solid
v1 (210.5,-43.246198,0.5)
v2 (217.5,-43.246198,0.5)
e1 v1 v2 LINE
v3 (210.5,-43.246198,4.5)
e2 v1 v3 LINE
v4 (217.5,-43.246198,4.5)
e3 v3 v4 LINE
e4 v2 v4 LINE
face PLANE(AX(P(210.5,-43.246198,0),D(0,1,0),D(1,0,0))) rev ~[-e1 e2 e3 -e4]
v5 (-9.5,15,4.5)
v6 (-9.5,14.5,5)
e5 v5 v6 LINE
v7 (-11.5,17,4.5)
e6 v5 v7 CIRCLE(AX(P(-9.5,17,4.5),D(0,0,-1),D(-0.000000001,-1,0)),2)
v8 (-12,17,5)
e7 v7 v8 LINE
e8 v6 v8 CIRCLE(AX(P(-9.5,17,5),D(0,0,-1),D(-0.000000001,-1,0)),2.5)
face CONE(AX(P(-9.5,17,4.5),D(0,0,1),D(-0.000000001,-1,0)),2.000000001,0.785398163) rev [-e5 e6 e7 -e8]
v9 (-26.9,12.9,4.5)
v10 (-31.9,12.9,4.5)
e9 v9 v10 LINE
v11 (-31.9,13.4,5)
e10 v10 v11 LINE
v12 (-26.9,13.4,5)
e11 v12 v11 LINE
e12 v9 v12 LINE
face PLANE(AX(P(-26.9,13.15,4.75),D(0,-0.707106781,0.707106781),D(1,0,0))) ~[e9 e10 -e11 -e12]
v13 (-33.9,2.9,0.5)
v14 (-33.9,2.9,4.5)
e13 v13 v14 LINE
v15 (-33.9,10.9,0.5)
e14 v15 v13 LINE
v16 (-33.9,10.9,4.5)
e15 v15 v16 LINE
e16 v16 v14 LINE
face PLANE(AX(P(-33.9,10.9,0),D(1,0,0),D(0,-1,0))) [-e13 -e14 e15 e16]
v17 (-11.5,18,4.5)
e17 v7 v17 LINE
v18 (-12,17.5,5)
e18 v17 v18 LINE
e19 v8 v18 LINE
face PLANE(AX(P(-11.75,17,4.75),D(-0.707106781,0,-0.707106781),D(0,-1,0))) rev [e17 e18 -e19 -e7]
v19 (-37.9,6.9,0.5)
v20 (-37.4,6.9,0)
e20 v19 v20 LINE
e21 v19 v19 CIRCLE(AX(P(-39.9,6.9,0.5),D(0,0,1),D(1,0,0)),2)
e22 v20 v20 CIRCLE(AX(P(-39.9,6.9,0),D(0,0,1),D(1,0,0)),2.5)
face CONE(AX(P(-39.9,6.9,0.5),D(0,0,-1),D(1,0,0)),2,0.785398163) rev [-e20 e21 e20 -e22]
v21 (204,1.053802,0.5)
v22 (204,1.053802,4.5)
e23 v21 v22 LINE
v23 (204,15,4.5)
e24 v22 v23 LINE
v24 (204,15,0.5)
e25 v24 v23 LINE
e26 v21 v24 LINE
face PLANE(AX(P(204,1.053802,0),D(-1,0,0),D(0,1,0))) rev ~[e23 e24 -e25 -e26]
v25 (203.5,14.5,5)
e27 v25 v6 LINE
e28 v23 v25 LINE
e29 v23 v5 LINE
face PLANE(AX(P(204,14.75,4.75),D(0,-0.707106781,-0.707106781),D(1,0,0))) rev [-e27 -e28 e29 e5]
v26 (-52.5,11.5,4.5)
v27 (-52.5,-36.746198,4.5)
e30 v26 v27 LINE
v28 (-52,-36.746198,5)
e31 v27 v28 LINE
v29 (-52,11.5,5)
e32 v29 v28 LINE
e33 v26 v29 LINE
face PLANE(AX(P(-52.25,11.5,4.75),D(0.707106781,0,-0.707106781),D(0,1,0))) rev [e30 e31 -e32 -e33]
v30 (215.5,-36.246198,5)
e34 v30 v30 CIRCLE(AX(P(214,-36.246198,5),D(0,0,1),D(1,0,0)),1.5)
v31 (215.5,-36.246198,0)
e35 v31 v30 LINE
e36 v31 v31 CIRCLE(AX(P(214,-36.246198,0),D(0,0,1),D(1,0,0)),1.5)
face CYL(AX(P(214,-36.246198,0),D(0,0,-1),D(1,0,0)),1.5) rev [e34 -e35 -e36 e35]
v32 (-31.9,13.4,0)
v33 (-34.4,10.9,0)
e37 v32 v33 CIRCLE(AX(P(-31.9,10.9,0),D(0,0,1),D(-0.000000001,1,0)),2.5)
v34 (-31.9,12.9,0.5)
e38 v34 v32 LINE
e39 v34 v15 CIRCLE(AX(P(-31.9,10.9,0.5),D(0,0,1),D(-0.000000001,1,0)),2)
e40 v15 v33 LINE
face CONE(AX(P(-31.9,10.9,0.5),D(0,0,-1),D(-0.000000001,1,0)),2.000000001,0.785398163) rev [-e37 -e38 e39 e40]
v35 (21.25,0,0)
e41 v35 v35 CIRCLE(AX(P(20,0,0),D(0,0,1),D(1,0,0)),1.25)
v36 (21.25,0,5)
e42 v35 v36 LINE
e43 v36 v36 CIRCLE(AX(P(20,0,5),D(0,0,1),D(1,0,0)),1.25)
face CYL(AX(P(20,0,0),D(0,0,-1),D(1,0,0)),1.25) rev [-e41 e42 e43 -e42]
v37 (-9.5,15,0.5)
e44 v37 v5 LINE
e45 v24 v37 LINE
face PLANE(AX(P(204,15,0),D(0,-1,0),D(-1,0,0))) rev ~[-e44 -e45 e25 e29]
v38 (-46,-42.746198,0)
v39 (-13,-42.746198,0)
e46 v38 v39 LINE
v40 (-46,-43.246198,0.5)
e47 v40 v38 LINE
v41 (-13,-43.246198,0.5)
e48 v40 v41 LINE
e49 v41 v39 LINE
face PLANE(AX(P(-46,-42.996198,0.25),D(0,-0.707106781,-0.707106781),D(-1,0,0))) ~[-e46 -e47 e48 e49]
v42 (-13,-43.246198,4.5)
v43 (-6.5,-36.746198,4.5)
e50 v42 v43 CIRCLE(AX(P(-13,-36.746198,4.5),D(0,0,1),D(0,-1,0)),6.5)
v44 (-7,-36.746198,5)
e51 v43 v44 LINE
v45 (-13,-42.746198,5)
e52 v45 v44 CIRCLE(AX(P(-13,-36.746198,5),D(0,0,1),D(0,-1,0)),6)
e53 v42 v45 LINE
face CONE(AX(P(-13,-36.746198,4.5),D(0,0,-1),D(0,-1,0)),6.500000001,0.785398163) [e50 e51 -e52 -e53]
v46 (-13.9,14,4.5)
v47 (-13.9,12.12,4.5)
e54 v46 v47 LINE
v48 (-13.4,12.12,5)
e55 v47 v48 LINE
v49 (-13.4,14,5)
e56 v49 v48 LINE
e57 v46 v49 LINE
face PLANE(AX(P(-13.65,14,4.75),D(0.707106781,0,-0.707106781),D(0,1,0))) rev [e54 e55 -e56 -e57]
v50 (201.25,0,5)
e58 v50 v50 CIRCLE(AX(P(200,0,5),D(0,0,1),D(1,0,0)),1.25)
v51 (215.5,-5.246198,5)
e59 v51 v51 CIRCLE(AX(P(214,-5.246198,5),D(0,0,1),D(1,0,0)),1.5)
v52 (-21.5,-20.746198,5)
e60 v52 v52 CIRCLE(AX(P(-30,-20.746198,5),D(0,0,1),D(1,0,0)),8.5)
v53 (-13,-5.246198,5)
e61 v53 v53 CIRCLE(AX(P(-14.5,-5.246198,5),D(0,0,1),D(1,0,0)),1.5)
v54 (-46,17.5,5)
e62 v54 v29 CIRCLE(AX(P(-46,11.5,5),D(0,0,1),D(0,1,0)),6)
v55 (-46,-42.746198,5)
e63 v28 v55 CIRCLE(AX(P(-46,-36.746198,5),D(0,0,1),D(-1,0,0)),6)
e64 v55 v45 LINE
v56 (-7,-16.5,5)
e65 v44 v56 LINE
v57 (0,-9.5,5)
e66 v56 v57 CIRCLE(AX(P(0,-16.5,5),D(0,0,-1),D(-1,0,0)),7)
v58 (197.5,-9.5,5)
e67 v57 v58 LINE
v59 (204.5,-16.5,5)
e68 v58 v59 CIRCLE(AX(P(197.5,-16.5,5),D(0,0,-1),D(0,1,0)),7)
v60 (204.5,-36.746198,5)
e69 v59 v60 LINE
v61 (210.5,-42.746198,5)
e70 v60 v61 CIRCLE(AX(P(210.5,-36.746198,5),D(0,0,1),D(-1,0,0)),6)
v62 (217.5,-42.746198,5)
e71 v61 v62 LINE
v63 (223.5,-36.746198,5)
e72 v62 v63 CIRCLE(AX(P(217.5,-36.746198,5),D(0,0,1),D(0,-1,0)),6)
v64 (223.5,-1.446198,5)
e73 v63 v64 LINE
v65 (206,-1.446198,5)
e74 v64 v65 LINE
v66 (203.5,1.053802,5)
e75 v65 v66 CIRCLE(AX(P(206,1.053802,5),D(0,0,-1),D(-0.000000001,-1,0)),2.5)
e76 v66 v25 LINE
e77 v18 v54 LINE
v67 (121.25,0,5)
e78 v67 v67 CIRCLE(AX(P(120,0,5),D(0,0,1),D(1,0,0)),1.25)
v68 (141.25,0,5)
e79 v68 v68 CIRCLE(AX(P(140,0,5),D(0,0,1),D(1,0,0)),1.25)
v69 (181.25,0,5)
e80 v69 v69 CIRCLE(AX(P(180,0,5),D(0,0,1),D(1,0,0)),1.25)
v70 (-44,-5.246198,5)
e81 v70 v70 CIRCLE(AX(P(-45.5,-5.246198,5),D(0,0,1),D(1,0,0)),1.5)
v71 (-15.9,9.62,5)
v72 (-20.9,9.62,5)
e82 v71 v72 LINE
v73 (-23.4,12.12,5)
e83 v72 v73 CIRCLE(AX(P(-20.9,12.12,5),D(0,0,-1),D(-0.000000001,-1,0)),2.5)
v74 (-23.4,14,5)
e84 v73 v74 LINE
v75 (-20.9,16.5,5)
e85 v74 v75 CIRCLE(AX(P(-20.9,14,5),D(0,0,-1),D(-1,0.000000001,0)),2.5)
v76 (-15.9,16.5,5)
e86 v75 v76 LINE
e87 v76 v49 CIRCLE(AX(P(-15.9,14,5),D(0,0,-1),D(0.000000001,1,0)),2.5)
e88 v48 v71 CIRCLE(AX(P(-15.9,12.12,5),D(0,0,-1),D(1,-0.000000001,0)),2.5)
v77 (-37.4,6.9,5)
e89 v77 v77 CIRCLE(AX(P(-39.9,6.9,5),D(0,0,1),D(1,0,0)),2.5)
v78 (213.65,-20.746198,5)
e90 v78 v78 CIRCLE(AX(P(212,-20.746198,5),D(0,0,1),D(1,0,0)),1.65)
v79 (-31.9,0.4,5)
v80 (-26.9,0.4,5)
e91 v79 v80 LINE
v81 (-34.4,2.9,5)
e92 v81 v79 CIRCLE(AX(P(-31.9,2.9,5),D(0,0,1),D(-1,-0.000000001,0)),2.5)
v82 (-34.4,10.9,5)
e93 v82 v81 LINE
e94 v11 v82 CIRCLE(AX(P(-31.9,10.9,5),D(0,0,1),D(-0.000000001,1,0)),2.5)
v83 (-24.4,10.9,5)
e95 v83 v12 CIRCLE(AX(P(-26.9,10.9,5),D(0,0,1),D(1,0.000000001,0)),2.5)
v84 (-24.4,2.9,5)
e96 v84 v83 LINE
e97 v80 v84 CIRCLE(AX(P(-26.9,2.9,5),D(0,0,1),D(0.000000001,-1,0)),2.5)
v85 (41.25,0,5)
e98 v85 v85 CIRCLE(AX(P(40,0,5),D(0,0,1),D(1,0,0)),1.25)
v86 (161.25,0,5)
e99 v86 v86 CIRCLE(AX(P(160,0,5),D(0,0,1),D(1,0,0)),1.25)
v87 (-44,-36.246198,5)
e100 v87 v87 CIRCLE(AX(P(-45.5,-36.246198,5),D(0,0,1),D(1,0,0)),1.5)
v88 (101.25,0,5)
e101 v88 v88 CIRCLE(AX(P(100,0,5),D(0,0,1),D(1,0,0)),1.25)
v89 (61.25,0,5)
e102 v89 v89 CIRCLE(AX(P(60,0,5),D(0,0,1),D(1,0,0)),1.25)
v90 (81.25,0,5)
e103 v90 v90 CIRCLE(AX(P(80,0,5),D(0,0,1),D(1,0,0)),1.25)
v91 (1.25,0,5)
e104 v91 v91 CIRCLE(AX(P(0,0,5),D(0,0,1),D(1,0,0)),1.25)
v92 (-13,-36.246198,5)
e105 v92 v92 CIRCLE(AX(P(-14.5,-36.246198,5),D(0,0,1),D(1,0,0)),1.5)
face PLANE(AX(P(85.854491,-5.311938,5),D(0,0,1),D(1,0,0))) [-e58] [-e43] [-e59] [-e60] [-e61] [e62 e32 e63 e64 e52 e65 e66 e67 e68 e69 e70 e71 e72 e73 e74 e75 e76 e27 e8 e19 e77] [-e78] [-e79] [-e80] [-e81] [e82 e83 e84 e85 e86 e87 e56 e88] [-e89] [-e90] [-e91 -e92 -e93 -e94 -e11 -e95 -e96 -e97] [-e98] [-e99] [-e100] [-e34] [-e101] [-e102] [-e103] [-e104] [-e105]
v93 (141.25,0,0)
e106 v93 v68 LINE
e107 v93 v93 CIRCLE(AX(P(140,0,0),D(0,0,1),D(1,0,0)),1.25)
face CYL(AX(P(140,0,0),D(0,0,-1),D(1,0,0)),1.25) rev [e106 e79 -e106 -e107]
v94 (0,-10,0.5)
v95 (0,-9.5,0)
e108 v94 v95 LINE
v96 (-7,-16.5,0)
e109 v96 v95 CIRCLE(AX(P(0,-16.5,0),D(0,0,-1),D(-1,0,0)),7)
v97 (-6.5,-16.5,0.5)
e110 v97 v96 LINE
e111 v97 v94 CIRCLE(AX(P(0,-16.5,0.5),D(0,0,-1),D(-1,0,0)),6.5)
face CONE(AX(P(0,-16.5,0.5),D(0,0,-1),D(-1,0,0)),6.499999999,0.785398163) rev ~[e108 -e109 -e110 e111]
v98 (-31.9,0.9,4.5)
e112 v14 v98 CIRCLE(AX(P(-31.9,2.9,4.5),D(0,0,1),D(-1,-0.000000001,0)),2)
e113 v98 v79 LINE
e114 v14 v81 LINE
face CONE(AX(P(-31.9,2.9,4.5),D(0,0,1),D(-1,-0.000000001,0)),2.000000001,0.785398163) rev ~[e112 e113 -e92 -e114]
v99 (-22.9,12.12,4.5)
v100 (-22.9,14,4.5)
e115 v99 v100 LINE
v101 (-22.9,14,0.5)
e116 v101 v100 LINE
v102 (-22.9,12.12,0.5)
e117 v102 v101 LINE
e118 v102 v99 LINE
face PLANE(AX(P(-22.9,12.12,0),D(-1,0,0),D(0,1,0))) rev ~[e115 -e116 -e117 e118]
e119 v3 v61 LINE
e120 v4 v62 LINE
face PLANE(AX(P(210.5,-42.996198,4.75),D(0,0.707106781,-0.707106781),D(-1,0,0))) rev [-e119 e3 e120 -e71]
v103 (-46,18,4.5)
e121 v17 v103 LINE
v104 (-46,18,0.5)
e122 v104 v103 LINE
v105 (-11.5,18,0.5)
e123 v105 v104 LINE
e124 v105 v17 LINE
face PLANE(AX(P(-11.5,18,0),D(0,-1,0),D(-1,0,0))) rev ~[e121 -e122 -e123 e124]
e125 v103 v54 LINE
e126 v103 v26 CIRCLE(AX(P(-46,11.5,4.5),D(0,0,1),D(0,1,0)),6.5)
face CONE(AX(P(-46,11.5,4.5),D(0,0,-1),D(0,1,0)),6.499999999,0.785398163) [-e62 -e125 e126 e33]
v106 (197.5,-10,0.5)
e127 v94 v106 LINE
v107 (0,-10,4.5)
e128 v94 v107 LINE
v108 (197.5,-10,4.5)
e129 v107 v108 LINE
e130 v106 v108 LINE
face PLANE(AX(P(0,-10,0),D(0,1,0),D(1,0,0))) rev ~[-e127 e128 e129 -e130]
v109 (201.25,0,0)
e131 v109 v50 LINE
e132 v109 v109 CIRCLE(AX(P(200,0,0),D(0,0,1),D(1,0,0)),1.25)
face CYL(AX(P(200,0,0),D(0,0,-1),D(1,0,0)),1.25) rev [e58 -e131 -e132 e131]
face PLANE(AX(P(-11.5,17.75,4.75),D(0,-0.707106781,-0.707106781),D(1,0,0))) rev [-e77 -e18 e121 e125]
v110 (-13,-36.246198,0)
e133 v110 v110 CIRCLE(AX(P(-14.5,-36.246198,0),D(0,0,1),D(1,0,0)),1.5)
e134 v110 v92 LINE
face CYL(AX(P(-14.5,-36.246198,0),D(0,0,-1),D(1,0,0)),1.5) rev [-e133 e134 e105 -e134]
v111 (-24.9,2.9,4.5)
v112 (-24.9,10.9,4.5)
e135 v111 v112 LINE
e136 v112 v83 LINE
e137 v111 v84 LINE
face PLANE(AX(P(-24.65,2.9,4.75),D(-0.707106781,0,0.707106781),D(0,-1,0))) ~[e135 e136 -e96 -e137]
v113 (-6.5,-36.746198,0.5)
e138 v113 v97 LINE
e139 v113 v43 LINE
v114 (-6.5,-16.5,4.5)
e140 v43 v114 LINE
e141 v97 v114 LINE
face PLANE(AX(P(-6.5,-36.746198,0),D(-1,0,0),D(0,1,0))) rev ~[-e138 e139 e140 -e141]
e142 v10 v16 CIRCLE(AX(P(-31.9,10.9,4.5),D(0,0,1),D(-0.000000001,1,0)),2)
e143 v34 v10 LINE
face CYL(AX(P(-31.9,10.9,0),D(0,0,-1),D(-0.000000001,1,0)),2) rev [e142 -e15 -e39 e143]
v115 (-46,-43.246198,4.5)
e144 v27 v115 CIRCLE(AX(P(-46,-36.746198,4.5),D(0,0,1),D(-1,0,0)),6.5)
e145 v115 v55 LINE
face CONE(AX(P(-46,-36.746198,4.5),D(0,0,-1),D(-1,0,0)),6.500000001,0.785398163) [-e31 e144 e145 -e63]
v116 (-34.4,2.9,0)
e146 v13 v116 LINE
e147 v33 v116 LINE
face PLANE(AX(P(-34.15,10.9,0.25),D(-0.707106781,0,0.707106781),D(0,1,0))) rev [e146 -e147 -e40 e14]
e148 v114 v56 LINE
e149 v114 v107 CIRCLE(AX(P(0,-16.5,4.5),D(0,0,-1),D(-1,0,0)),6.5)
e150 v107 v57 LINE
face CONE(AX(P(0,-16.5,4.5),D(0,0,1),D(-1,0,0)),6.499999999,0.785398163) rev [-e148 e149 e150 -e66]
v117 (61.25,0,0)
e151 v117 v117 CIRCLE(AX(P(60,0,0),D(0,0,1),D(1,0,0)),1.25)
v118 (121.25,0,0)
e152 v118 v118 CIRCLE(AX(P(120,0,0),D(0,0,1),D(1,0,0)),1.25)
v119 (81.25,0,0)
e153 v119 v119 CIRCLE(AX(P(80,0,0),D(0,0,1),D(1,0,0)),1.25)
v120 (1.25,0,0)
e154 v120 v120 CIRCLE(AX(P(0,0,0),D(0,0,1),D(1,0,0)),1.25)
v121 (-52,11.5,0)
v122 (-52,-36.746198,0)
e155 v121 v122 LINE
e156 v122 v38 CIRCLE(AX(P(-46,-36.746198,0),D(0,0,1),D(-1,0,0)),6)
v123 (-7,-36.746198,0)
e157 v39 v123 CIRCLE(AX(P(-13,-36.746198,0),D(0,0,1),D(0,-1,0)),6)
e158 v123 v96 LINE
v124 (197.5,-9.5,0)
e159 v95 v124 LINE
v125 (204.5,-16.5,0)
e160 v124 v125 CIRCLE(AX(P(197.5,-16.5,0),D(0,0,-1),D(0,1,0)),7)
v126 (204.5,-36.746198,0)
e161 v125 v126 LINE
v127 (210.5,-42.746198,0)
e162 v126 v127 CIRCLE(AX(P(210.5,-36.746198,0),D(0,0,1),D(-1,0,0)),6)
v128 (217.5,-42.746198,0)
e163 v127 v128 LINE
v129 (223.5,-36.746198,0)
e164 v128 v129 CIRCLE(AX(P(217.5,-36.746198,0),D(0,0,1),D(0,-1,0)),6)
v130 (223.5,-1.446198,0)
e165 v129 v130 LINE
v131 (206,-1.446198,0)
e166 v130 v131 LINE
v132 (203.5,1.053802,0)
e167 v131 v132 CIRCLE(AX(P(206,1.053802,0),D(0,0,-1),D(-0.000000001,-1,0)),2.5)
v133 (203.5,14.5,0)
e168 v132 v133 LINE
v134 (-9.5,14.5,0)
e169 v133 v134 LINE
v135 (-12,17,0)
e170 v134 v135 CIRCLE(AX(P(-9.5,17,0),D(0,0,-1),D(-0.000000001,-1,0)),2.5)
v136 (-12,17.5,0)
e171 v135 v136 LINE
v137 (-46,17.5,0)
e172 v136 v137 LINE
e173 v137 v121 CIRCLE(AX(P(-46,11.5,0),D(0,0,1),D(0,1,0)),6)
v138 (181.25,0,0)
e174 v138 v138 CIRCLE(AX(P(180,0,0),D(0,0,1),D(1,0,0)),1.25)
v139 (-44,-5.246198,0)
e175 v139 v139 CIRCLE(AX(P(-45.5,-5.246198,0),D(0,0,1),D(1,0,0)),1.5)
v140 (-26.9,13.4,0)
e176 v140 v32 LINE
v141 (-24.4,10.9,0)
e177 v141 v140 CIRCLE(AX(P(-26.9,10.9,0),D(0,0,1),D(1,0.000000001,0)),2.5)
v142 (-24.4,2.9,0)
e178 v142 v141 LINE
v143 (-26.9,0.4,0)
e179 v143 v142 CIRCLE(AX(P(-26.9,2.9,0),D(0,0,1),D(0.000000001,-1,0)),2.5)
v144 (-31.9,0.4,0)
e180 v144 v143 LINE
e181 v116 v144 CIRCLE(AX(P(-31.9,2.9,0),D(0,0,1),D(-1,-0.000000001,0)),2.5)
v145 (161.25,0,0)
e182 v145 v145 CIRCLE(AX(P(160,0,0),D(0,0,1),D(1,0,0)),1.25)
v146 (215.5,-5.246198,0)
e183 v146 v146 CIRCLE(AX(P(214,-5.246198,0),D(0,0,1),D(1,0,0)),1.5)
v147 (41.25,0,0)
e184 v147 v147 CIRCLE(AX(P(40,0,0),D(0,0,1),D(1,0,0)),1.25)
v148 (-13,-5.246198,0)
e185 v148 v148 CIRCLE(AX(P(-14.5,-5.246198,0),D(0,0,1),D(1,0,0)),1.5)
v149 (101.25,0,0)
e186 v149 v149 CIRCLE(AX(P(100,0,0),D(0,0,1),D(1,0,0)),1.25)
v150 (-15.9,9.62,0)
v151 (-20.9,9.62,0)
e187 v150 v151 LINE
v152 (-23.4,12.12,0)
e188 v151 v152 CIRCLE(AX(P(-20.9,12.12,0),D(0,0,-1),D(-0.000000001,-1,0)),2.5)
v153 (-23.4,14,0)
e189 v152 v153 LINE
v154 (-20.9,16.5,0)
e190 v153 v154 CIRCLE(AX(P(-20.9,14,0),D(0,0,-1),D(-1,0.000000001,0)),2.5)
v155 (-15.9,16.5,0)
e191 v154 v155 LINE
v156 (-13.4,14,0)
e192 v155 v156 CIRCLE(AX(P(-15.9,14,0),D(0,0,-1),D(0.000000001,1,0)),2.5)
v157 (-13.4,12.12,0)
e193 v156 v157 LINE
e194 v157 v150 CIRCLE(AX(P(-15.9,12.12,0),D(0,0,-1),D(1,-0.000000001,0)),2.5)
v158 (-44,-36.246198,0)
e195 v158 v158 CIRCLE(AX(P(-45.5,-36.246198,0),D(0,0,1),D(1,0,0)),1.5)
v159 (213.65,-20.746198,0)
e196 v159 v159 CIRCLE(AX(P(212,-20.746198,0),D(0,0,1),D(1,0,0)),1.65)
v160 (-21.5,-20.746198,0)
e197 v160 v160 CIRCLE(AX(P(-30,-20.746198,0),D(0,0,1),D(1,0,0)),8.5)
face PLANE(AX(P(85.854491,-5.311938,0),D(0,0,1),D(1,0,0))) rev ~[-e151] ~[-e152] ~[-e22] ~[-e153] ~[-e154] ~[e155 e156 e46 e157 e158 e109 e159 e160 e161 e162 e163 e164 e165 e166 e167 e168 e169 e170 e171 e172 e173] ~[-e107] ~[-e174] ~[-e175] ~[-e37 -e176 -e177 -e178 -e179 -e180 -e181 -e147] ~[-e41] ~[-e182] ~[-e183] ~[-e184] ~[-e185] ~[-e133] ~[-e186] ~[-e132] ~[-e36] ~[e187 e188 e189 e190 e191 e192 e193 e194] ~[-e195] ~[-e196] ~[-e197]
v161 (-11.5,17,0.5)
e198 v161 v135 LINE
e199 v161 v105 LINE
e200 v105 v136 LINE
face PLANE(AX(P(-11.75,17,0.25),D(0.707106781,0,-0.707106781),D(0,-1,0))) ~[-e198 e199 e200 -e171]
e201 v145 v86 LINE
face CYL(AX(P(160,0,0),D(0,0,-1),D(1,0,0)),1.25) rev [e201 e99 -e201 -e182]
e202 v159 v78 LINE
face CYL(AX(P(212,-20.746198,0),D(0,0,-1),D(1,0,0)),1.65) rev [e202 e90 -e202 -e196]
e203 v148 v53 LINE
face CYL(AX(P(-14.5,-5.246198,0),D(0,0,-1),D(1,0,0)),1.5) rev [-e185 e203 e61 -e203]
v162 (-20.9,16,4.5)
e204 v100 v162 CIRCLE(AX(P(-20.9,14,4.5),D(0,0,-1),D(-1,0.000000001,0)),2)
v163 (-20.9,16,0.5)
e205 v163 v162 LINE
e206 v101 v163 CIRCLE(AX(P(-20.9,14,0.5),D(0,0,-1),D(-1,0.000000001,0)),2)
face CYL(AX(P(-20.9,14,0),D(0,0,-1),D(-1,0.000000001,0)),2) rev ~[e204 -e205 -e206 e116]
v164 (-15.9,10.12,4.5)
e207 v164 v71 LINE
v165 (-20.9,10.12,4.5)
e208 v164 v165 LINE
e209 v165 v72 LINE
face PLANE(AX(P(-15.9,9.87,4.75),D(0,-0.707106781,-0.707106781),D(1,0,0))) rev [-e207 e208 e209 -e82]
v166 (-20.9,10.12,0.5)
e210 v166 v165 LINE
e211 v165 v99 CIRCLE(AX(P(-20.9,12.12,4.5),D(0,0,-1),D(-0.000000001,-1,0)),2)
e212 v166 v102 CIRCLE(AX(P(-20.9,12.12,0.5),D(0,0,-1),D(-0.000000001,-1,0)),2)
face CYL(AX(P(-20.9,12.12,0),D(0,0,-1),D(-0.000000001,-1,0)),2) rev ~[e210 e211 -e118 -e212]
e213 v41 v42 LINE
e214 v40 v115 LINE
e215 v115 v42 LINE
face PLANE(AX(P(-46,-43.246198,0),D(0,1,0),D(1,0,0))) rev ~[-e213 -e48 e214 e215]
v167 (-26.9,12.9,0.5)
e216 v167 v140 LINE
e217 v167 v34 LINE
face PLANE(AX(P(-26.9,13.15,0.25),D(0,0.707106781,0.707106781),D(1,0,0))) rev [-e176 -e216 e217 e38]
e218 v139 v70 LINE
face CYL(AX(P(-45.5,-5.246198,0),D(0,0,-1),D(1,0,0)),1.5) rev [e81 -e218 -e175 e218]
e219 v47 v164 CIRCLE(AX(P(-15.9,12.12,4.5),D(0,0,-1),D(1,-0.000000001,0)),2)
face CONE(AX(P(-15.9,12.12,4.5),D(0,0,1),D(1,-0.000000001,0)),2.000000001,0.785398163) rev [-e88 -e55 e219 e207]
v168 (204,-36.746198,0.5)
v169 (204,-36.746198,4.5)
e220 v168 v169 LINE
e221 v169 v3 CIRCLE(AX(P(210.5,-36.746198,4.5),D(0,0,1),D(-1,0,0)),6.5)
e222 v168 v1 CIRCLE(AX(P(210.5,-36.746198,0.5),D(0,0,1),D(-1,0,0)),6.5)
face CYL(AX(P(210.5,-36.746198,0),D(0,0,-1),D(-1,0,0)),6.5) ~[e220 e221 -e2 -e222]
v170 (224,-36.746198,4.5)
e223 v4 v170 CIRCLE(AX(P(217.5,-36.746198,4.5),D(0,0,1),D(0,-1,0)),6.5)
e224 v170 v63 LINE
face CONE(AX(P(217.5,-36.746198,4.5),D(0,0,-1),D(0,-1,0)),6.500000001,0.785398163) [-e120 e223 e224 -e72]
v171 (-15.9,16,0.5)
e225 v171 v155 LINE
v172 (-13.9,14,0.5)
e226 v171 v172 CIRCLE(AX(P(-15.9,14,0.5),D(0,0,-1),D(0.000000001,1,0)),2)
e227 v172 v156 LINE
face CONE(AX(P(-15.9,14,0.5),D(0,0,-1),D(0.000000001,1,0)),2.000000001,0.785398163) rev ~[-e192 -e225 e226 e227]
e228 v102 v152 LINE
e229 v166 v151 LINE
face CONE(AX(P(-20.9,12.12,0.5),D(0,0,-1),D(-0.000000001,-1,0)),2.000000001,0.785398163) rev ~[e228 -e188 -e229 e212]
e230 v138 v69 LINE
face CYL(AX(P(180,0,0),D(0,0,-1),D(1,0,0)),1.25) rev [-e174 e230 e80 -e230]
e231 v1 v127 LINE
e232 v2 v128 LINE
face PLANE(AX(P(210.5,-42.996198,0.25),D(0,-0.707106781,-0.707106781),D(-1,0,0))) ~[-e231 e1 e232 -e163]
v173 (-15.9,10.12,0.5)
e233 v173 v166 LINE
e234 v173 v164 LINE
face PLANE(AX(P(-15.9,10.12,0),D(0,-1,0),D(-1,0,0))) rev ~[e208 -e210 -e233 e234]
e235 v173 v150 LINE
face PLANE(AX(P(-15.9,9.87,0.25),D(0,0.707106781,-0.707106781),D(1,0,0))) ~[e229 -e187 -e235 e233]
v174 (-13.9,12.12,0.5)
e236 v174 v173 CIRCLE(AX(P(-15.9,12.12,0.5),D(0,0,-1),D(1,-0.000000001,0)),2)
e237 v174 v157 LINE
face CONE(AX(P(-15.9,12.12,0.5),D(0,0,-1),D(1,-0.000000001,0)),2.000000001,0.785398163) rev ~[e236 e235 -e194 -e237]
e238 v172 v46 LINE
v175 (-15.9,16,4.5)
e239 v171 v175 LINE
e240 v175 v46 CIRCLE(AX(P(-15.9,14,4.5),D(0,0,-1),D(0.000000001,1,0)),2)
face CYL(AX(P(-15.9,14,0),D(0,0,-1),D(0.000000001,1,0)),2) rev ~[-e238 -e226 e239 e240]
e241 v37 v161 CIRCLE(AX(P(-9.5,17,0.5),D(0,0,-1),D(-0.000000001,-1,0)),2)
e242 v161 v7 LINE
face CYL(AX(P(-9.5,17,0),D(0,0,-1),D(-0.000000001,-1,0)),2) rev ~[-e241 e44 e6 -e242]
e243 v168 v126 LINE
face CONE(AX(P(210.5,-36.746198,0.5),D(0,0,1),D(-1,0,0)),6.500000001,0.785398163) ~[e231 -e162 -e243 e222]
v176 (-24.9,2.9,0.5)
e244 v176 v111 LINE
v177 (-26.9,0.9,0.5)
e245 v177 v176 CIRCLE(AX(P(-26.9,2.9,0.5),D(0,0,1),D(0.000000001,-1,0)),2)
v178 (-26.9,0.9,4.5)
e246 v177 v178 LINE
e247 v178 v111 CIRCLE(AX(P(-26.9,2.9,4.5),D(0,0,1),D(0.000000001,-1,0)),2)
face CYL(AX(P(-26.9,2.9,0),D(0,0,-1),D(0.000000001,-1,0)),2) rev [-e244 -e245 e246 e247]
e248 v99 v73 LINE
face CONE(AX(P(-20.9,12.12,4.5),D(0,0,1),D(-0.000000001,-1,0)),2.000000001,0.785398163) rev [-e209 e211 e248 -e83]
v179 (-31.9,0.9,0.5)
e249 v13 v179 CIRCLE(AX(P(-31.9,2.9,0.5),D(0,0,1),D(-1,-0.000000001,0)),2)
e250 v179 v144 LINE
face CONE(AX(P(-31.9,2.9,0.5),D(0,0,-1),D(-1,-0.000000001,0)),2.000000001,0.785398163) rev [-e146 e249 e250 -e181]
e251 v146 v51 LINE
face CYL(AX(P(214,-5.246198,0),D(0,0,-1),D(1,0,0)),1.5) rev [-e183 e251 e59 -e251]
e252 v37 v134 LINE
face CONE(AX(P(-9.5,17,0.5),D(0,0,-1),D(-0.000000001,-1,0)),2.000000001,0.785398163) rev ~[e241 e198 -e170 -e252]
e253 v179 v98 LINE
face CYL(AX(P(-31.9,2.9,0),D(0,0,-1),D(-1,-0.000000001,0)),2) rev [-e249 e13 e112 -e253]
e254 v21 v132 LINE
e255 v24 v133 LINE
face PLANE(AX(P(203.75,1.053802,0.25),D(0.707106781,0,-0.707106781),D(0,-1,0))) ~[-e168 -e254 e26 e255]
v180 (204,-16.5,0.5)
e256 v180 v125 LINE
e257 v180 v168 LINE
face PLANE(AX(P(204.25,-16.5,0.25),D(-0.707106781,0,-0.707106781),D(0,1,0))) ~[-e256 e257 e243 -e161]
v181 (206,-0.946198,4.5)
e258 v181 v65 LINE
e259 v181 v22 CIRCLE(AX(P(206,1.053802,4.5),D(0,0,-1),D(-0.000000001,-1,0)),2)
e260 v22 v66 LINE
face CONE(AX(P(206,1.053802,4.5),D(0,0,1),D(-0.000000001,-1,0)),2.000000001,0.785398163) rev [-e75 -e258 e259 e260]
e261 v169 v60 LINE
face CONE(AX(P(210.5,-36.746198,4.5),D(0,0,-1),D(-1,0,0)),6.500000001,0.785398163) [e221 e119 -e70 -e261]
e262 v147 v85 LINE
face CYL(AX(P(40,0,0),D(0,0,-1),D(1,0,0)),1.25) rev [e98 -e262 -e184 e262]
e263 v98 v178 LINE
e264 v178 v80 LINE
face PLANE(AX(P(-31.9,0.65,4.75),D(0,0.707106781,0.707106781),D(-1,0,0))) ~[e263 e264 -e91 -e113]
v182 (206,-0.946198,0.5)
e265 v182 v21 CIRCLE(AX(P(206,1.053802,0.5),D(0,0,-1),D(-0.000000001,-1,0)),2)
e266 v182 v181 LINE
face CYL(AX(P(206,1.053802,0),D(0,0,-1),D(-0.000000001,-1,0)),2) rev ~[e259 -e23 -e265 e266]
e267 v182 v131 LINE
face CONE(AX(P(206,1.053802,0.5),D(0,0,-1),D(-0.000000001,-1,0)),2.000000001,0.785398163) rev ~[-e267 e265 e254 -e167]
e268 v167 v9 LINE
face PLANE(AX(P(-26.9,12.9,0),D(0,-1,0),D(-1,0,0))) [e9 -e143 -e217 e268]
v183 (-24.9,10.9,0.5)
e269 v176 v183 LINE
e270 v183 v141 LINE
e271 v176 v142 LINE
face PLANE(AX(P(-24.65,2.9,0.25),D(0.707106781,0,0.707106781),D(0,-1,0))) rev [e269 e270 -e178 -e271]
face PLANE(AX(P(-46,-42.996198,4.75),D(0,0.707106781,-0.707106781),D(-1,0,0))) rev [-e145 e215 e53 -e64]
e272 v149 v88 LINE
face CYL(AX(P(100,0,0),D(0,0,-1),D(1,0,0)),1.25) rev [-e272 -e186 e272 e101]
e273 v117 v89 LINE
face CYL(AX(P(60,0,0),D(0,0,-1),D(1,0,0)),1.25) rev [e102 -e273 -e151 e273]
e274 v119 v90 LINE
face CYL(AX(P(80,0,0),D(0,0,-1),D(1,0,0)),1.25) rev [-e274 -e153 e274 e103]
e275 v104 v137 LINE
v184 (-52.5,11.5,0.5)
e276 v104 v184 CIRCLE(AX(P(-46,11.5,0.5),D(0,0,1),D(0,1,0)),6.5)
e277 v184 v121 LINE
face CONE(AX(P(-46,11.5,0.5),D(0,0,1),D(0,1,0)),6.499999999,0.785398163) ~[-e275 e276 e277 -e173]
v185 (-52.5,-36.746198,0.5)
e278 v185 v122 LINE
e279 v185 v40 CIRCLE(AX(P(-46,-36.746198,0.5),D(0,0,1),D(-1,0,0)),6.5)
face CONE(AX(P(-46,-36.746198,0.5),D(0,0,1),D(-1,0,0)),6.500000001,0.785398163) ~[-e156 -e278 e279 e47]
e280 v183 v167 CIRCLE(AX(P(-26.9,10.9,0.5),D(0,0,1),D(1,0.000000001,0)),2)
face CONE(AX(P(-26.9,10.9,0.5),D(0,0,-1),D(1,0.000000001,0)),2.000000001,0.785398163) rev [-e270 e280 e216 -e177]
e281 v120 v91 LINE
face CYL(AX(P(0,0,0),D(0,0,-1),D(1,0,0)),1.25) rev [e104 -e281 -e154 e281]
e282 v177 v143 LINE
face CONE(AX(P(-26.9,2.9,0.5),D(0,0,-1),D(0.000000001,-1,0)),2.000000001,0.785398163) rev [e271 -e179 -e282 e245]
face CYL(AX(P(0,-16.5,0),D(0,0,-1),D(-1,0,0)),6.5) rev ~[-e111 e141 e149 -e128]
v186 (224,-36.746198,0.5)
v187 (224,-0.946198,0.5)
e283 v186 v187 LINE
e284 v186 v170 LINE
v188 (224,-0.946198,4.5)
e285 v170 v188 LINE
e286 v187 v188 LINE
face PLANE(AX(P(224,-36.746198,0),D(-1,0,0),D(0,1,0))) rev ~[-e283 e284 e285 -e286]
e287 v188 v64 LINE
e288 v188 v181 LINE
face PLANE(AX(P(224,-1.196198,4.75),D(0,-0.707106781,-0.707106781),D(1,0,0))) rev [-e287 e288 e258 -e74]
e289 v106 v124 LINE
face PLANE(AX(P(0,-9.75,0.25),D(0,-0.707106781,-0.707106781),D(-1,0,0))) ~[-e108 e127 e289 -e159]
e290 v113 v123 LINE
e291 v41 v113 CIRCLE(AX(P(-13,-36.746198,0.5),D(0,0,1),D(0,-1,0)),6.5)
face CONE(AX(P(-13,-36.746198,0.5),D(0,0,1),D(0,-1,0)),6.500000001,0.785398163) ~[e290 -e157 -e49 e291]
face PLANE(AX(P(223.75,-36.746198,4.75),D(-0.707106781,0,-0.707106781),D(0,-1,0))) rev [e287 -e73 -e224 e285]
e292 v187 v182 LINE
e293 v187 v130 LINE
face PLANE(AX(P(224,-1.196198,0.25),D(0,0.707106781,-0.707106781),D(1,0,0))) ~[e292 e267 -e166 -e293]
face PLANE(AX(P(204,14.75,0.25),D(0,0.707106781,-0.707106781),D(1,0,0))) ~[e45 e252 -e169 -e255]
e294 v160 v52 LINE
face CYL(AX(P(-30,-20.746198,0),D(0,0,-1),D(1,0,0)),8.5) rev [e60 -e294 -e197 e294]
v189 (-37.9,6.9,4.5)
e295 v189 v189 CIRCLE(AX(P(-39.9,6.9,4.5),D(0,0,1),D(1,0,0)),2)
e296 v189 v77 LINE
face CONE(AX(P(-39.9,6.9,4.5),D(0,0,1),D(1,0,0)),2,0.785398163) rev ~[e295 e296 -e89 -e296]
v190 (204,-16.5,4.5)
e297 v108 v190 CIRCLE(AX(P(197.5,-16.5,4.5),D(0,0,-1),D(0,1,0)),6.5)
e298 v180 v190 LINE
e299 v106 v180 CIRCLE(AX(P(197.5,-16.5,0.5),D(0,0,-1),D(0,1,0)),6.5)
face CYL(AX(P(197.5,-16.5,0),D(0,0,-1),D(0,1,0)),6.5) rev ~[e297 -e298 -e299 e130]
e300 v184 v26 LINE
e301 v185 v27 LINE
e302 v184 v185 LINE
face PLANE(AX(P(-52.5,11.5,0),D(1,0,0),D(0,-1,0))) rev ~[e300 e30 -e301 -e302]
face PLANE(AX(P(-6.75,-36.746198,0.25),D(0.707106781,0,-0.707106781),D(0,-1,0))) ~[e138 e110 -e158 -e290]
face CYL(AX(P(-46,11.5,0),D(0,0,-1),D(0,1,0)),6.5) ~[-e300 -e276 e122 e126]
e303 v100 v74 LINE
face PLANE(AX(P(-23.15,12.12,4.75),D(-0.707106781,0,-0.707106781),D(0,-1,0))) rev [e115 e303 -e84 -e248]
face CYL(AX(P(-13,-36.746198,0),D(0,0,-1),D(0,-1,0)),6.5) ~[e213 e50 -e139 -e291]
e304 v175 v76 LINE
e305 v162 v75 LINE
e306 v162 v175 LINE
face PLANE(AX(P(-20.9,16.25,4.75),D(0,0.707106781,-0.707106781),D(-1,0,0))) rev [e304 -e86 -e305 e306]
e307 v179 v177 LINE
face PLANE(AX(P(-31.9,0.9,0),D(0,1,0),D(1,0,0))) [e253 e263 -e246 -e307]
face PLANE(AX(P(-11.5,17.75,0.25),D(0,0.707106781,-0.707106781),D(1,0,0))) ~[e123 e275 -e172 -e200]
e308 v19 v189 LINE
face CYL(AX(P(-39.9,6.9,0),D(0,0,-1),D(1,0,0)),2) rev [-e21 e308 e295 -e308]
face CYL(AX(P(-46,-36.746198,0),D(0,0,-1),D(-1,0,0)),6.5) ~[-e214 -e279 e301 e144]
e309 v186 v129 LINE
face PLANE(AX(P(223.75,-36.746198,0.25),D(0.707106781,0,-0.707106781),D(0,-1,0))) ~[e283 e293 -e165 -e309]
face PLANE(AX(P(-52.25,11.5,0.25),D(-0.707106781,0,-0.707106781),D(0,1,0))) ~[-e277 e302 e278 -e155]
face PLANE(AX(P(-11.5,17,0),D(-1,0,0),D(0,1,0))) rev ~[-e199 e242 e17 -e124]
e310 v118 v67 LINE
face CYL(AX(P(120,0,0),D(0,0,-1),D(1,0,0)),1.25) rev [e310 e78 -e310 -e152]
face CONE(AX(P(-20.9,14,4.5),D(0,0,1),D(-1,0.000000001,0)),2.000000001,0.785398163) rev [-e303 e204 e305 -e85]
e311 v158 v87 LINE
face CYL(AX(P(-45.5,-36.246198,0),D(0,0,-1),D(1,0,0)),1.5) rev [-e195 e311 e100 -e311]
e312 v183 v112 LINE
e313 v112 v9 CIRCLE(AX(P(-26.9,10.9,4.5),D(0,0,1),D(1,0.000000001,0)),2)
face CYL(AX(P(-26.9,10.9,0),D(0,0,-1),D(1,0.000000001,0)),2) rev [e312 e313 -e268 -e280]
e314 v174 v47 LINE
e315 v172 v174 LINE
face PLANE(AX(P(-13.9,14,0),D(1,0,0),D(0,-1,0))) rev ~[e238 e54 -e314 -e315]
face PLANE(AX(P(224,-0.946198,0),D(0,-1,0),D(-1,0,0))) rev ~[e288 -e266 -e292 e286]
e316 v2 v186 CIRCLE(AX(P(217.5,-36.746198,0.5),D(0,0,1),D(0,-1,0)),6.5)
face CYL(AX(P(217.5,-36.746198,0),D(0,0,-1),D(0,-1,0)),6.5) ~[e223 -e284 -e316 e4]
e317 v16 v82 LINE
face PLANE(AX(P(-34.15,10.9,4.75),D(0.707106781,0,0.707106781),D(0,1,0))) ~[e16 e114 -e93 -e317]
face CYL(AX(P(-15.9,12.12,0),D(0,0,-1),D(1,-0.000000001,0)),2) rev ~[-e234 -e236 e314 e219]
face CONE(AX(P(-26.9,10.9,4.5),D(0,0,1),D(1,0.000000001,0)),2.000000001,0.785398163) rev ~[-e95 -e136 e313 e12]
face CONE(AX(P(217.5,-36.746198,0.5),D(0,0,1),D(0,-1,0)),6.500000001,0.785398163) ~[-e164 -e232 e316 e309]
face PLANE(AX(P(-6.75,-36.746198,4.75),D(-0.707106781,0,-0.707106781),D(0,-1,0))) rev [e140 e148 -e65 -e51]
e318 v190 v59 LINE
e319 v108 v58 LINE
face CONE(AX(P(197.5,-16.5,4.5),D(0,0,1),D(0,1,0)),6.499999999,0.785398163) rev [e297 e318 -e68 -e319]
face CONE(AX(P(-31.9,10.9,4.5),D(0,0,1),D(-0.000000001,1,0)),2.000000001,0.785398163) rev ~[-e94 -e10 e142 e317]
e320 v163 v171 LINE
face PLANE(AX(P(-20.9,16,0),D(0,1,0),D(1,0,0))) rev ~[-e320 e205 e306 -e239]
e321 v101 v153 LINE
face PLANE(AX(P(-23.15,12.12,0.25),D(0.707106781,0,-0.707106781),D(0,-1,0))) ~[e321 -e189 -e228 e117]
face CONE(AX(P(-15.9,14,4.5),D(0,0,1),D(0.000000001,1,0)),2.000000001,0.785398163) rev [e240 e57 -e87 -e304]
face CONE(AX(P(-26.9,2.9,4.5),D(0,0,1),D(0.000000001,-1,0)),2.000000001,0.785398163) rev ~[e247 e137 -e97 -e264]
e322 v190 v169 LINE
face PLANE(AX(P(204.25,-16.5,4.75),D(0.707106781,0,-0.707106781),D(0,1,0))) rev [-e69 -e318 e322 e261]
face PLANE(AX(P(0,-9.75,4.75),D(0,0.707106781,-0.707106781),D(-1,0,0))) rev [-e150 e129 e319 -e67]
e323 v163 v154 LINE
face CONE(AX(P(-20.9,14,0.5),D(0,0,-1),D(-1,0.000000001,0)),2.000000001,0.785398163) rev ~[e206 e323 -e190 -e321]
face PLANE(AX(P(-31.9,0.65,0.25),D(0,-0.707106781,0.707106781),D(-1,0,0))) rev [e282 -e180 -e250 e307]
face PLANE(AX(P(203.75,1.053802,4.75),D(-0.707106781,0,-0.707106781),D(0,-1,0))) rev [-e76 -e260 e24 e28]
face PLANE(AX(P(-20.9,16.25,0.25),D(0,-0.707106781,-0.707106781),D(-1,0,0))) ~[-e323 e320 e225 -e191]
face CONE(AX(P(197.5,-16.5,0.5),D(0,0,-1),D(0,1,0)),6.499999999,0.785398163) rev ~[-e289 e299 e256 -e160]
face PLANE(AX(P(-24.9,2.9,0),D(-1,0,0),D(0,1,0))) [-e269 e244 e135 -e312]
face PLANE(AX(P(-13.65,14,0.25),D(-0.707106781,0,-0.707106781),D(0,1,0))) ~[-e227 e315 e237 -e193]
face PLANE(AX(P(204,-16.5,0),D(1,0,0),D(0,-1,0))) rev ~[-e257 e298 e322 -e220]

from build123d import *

# Parameters (mm, degrees)
SKETCH1_R           = 1.25
SKETCH1_R_2         = 8.5
SKETCH1_R_3         = 1.5
SKETCH1_R_4         = 1.65
SKETCH1_R_5         = 2
BOSS_EXTRUDE1_DEPTH = 5
CHAMFER1_SIZE       = 0.5


with BuildPart() as part:
    # Sketch1 → Boss-Extrude1 (new body)
    with BuildSketch(Plane.XY):
        with BuildLine():
            Line((0, -10), (197.5, -10))
            ThreePointArc((197.5, -10), (202.096194078, -11.903805922), (204, -16.5))
            Line((204, -16.5), (204, -36.746197724))
            ThreePointArc((204, -36.746197724), (205.903805922, -41.342391801), (210.5, -43.246197724))
            Line((210.5, -43.246197724), (217.5, -43.246197724))
            ThreePointArc((217.5, -43.246197724), (222.096194078, -41.342391801), (224, -36.746197724))
            Line((224, -36.746197724), (224, -0.946197724))
            Line((224, -0.946197724), (206, -0.946197724))
            ThreePointArc((206, -0.946197724), (204.585786438, -0.360411286), (204, 1.053802276))
            Line((204, 1.053802276), (204, 15))
            Line((204, 15), (-9.5, 15))
            ThreePointArc((-9.5, 15), (-10.914213562, 15.585786438), (-11.5, 17))
            Line((-11.5, 17), (-11.5, 18))
            Line((-11.5, 18), (-46, 18))
            ThreePointArc((-46, 18), (-50.596194078, 16.096194078), (-52.5, 11.5))
            Line((-52.5, 11.5), (-52.5, -36.746197724))
            ThreePointArc((-52.5, -36.746197724), (-50.596194078, -41.342391801), (-46, -43.246197724))
            Line((-46, -43.246197724), (-13, -43.246197724))
            ThreePointArc((-13, -43.246197724), (-8.403805922, -41.342391801), (-6.5, -36.746197724))
            Line((-6.5, -36.746197724), (-6.5, -16.5))
            ThreePointArc((-6.5, -16.5), (-4.596194078, -11.903805922), (0, -10))
        make_face()
        Circle(SKETCH1_R, mode=Mode.SUBTRACT)
        with Locations((20, 0)):
            Circle(SKETCH1_R, mode=Mode.SUBTRACT)
        with Locations((40, 0)):
            Circle(SKETCH1_R, mode=Mode.SUBTRACT)
        with Locations((60, 0)):
            Circle(SKETCH1_R, mode=Mode.SUBTRACT)
        with Locations((80, 0)):
            Circle(SKETCH1_R, mode=Mode.SUBTRACT)
        with Locations((100, 0)):
            Circle(SKETCH1_R, mode=Mode.SUBTRACT)
        with Locations((120, 0)):
            Circle(SKETCH1_R, mode=Mode.SUBTRACT)
        with Locations((140, 0)):
            Circle(SKETCH1_R, mode=Mode.SUBTRACT)
        with Locations((160, 0)):
            Circle(SKETCH1_R, mode=Mode.SUBTRACT)
        with Locations((180, 0)):
            Circle(SKETCH1_R, mode=Mode.SUBTRACT)
        with Locations((-30, -20.746197724)):
            Circle(SKETCH1_R_2, mode=Mode.SUBTRACT)
        with Locations((-45.5, -5.246197724)):
            Circle(SKETCH1_R_3, mode=Mode.SUBTRACT)
        with Locations((-14.5, -5.246197724)):
            Circle(SKETCH1_R_3, mode=Mode.SUBTRACT)
        with Locations((-45.5, -36.246197724)):
            Circle(SKETCH1_R_3, mode=Mode.SUBTRACT)
        with Locations((-14.5, -36.246197724)):
            Circle(SKETCH1_R_3, mode=Mode.SUBTRACT)
        with Locations((200, 0)):
            Circle(SKETCH1_R, mode=Mode.SUBTRACT)
        with Locations((212, -20.746197724)):
            Circle(SKETCH1_R_4, mode=Mode.SUBTRACT)
        with Locations((214, -36.246197724)):
            Circle(SKETCH1_R_3, mode=Mode.SUBTRACT)
        with Locations((214, -5.246197724)):
            Circle(SKETCH1_R_3, mode=Mode.SUBTRACT)
        with Locations((-39.9, 6.9)):
            Circle(SKETCH1_R_5, mode=Mode.SUBTRACT)
        with BuildLine():
            Line((-20.9, 16), (-15.9, 16))
            ThreePointArc((-15.9, 16), (-14.485786438, 15.414213562), (-13.9, 14))
            Line((-13.9, 14), (-13.9, 12.12))
            ThreePointArc((-13.9, 12.12), (-14.485786438, 10.705786438), (-15.9, 10.12))
            Line((-15.9, 10.12), (-20.9, 10.12))
            ThreePointArc((-20.9, 10.12), (-22.314213562, 10.705786438), (-22.9, 12.12))
            Line((-22.9, 12.12), (-22.9, 14))
            ThreePointArc((-22.9, 14), (-22.314213562, 15.414213562), (-20.9, 16))
        make_face(mode=Mode.SUBTRACT)
        with BuildLine():
            Line((-26.9, 12.9), (-31.9, 12.9))
            ThreePointArc((-31.9, 12.9), (-33.314213562, 12.314213562), (-33.9, 10.9))
            Line((-33.9, 10.9), (-33.9, 2.9))
            ThreePointArc((-33.9, 2.9), (-33.314213562, 1.485786438), (-31.9, 0.9))
            Line((-31.9, 0.9), (-26.9, 0.9))
            ThreePointArc((-26.9, 0.9), (-25.485786438, 1.485786438), (-24.9, 2.9))
            Line((-24.9, 2.9), (-24.9, 10.9))
            ThreePointArc((-24.9, 10.9), (-25.485786438, 12.314213562), (-26.9, 12.9))
        make_face(mode=Mode.SUBTRACT)
    extrude(amount=BOSS_EXTRUDE1_DEPTH)

    # Chamfer1
    chamfer1_edges = [part.edges().sort_by_distance(p)[0] for p in [
        (-14.485786438, 15.414213562, 0),
        (-18.4, 16, 0),
        (-22.314213562, 15.414213562, 0),
        (-22.9, 13.06, 0),
        (-22.314213562, 10.705786438, 0),
        (-18.4, 10.12, 0),
        (-14.485786438, 10.705786438, 0),
        (-13.9, 13.06, 0),
        (-14.485786438, 15.414213562, 5),
        (-18.4, 16, 5),
        (-22.314213562, 15.414213562, 5),
        (-22.9, 13.06, 5),
        (-22.314213562, 10.705786438, 5),
        (-18.4, 10.12, 5),
        (-14.485786438, 10.705786438, 5),
        (-13.9, 13.06, 5),
        (205.903805922, -41.342391801, 5),
        (-25.485786438, 12.314213562, 0),
        (-29.4, 12.9, 0),
        (-33.314213562, 12.314213562, 0),
        (-33.9, 6.9, 0),
        (-33.314213562, 1.485786438, 0),
        (-29.4, 0.9, 0),
        (-25.485786438, 1.485786438, 0),
        (-24.9, 6.9, 0),
        (-25.485786438, 12.314213562, 5),
        (-29.4, 12.9, 5),
        (-33.314213562, 12.314213562, 5),
        (-33.9, 6.9, 5),
        (-33.314213562, 1.485786438, 5),
        (-29.4, 0.9, 5),
        (-25.485786438, 1.485786438, 5),
        (-24.9, 6.9, 5),
        (214, -43.246197724, 5),
        (-41.9, 6.9, 0),
        (-41.9, 6.9, 5),
        (98.75, -10, 0),
        (-4.596194078, -11.903805922, 0),
        (222.096194078, -41.342391801, 5),
        (-6.5, -26.623098862, 0),
        (-8.403805922, -41.342391801, 0),
        (-29.5, -43.246197724, 0),
        (-50.596194078, -41.342391801, 0),
        (-52.5, -12.623098862, 0),
        (-50.596194078, 16.096194078, 0),
        (-28.75, 18, 0),
        (-11.5, 17.5, 0),
        (-10.914213562, 15.585786438, 0),
        (97.25, 15, 0),
        (224, -18.846197724, 5),
        (204, 8.026901138, 0),
        (204.585786438, -0.360411286, 0),
        (215, -0.946197724, 0),
        (224, -18.846197724, 0),
        (222.096194078, -41.342391801, 0),
        (214, -43.246197724, 0),
        (205.903805922, -41.342391801, 0),
        (204, -26.623098862, 0),
        (202.096194078, -11.903805922, 0),
        (215, -0.946197724, 5),
        (204.585786438, -0.360411286, 5),
        (204, 8.026901138, 5),
        (97.25, 15, 5),
        (-10.914213562, 15.585786438, 5),
        (-11.5, 17.5, 5),
        (202.096194078, -11.903805922, 5),
        (-28.75, 18, 5),
        (-50.596194078, 16.096194078, 5),
        (-52.5, -12.623098862, 5),
        (-50.596194078, -41.342391801, 5),
        (-29.5, -43.246197724, 5),
        (-8.403805922, -41.342391801, 5),
        (-6.5, -26.623098862, 5),
        (-4.596194078, -11.903805922, 5),
        (98.75, -10, 5),
        (204, -26.623098862, 5),
    ]]
    chamfer(chamfer1_edges, length=CHAMFER1_SIZE)


solid = part.part
